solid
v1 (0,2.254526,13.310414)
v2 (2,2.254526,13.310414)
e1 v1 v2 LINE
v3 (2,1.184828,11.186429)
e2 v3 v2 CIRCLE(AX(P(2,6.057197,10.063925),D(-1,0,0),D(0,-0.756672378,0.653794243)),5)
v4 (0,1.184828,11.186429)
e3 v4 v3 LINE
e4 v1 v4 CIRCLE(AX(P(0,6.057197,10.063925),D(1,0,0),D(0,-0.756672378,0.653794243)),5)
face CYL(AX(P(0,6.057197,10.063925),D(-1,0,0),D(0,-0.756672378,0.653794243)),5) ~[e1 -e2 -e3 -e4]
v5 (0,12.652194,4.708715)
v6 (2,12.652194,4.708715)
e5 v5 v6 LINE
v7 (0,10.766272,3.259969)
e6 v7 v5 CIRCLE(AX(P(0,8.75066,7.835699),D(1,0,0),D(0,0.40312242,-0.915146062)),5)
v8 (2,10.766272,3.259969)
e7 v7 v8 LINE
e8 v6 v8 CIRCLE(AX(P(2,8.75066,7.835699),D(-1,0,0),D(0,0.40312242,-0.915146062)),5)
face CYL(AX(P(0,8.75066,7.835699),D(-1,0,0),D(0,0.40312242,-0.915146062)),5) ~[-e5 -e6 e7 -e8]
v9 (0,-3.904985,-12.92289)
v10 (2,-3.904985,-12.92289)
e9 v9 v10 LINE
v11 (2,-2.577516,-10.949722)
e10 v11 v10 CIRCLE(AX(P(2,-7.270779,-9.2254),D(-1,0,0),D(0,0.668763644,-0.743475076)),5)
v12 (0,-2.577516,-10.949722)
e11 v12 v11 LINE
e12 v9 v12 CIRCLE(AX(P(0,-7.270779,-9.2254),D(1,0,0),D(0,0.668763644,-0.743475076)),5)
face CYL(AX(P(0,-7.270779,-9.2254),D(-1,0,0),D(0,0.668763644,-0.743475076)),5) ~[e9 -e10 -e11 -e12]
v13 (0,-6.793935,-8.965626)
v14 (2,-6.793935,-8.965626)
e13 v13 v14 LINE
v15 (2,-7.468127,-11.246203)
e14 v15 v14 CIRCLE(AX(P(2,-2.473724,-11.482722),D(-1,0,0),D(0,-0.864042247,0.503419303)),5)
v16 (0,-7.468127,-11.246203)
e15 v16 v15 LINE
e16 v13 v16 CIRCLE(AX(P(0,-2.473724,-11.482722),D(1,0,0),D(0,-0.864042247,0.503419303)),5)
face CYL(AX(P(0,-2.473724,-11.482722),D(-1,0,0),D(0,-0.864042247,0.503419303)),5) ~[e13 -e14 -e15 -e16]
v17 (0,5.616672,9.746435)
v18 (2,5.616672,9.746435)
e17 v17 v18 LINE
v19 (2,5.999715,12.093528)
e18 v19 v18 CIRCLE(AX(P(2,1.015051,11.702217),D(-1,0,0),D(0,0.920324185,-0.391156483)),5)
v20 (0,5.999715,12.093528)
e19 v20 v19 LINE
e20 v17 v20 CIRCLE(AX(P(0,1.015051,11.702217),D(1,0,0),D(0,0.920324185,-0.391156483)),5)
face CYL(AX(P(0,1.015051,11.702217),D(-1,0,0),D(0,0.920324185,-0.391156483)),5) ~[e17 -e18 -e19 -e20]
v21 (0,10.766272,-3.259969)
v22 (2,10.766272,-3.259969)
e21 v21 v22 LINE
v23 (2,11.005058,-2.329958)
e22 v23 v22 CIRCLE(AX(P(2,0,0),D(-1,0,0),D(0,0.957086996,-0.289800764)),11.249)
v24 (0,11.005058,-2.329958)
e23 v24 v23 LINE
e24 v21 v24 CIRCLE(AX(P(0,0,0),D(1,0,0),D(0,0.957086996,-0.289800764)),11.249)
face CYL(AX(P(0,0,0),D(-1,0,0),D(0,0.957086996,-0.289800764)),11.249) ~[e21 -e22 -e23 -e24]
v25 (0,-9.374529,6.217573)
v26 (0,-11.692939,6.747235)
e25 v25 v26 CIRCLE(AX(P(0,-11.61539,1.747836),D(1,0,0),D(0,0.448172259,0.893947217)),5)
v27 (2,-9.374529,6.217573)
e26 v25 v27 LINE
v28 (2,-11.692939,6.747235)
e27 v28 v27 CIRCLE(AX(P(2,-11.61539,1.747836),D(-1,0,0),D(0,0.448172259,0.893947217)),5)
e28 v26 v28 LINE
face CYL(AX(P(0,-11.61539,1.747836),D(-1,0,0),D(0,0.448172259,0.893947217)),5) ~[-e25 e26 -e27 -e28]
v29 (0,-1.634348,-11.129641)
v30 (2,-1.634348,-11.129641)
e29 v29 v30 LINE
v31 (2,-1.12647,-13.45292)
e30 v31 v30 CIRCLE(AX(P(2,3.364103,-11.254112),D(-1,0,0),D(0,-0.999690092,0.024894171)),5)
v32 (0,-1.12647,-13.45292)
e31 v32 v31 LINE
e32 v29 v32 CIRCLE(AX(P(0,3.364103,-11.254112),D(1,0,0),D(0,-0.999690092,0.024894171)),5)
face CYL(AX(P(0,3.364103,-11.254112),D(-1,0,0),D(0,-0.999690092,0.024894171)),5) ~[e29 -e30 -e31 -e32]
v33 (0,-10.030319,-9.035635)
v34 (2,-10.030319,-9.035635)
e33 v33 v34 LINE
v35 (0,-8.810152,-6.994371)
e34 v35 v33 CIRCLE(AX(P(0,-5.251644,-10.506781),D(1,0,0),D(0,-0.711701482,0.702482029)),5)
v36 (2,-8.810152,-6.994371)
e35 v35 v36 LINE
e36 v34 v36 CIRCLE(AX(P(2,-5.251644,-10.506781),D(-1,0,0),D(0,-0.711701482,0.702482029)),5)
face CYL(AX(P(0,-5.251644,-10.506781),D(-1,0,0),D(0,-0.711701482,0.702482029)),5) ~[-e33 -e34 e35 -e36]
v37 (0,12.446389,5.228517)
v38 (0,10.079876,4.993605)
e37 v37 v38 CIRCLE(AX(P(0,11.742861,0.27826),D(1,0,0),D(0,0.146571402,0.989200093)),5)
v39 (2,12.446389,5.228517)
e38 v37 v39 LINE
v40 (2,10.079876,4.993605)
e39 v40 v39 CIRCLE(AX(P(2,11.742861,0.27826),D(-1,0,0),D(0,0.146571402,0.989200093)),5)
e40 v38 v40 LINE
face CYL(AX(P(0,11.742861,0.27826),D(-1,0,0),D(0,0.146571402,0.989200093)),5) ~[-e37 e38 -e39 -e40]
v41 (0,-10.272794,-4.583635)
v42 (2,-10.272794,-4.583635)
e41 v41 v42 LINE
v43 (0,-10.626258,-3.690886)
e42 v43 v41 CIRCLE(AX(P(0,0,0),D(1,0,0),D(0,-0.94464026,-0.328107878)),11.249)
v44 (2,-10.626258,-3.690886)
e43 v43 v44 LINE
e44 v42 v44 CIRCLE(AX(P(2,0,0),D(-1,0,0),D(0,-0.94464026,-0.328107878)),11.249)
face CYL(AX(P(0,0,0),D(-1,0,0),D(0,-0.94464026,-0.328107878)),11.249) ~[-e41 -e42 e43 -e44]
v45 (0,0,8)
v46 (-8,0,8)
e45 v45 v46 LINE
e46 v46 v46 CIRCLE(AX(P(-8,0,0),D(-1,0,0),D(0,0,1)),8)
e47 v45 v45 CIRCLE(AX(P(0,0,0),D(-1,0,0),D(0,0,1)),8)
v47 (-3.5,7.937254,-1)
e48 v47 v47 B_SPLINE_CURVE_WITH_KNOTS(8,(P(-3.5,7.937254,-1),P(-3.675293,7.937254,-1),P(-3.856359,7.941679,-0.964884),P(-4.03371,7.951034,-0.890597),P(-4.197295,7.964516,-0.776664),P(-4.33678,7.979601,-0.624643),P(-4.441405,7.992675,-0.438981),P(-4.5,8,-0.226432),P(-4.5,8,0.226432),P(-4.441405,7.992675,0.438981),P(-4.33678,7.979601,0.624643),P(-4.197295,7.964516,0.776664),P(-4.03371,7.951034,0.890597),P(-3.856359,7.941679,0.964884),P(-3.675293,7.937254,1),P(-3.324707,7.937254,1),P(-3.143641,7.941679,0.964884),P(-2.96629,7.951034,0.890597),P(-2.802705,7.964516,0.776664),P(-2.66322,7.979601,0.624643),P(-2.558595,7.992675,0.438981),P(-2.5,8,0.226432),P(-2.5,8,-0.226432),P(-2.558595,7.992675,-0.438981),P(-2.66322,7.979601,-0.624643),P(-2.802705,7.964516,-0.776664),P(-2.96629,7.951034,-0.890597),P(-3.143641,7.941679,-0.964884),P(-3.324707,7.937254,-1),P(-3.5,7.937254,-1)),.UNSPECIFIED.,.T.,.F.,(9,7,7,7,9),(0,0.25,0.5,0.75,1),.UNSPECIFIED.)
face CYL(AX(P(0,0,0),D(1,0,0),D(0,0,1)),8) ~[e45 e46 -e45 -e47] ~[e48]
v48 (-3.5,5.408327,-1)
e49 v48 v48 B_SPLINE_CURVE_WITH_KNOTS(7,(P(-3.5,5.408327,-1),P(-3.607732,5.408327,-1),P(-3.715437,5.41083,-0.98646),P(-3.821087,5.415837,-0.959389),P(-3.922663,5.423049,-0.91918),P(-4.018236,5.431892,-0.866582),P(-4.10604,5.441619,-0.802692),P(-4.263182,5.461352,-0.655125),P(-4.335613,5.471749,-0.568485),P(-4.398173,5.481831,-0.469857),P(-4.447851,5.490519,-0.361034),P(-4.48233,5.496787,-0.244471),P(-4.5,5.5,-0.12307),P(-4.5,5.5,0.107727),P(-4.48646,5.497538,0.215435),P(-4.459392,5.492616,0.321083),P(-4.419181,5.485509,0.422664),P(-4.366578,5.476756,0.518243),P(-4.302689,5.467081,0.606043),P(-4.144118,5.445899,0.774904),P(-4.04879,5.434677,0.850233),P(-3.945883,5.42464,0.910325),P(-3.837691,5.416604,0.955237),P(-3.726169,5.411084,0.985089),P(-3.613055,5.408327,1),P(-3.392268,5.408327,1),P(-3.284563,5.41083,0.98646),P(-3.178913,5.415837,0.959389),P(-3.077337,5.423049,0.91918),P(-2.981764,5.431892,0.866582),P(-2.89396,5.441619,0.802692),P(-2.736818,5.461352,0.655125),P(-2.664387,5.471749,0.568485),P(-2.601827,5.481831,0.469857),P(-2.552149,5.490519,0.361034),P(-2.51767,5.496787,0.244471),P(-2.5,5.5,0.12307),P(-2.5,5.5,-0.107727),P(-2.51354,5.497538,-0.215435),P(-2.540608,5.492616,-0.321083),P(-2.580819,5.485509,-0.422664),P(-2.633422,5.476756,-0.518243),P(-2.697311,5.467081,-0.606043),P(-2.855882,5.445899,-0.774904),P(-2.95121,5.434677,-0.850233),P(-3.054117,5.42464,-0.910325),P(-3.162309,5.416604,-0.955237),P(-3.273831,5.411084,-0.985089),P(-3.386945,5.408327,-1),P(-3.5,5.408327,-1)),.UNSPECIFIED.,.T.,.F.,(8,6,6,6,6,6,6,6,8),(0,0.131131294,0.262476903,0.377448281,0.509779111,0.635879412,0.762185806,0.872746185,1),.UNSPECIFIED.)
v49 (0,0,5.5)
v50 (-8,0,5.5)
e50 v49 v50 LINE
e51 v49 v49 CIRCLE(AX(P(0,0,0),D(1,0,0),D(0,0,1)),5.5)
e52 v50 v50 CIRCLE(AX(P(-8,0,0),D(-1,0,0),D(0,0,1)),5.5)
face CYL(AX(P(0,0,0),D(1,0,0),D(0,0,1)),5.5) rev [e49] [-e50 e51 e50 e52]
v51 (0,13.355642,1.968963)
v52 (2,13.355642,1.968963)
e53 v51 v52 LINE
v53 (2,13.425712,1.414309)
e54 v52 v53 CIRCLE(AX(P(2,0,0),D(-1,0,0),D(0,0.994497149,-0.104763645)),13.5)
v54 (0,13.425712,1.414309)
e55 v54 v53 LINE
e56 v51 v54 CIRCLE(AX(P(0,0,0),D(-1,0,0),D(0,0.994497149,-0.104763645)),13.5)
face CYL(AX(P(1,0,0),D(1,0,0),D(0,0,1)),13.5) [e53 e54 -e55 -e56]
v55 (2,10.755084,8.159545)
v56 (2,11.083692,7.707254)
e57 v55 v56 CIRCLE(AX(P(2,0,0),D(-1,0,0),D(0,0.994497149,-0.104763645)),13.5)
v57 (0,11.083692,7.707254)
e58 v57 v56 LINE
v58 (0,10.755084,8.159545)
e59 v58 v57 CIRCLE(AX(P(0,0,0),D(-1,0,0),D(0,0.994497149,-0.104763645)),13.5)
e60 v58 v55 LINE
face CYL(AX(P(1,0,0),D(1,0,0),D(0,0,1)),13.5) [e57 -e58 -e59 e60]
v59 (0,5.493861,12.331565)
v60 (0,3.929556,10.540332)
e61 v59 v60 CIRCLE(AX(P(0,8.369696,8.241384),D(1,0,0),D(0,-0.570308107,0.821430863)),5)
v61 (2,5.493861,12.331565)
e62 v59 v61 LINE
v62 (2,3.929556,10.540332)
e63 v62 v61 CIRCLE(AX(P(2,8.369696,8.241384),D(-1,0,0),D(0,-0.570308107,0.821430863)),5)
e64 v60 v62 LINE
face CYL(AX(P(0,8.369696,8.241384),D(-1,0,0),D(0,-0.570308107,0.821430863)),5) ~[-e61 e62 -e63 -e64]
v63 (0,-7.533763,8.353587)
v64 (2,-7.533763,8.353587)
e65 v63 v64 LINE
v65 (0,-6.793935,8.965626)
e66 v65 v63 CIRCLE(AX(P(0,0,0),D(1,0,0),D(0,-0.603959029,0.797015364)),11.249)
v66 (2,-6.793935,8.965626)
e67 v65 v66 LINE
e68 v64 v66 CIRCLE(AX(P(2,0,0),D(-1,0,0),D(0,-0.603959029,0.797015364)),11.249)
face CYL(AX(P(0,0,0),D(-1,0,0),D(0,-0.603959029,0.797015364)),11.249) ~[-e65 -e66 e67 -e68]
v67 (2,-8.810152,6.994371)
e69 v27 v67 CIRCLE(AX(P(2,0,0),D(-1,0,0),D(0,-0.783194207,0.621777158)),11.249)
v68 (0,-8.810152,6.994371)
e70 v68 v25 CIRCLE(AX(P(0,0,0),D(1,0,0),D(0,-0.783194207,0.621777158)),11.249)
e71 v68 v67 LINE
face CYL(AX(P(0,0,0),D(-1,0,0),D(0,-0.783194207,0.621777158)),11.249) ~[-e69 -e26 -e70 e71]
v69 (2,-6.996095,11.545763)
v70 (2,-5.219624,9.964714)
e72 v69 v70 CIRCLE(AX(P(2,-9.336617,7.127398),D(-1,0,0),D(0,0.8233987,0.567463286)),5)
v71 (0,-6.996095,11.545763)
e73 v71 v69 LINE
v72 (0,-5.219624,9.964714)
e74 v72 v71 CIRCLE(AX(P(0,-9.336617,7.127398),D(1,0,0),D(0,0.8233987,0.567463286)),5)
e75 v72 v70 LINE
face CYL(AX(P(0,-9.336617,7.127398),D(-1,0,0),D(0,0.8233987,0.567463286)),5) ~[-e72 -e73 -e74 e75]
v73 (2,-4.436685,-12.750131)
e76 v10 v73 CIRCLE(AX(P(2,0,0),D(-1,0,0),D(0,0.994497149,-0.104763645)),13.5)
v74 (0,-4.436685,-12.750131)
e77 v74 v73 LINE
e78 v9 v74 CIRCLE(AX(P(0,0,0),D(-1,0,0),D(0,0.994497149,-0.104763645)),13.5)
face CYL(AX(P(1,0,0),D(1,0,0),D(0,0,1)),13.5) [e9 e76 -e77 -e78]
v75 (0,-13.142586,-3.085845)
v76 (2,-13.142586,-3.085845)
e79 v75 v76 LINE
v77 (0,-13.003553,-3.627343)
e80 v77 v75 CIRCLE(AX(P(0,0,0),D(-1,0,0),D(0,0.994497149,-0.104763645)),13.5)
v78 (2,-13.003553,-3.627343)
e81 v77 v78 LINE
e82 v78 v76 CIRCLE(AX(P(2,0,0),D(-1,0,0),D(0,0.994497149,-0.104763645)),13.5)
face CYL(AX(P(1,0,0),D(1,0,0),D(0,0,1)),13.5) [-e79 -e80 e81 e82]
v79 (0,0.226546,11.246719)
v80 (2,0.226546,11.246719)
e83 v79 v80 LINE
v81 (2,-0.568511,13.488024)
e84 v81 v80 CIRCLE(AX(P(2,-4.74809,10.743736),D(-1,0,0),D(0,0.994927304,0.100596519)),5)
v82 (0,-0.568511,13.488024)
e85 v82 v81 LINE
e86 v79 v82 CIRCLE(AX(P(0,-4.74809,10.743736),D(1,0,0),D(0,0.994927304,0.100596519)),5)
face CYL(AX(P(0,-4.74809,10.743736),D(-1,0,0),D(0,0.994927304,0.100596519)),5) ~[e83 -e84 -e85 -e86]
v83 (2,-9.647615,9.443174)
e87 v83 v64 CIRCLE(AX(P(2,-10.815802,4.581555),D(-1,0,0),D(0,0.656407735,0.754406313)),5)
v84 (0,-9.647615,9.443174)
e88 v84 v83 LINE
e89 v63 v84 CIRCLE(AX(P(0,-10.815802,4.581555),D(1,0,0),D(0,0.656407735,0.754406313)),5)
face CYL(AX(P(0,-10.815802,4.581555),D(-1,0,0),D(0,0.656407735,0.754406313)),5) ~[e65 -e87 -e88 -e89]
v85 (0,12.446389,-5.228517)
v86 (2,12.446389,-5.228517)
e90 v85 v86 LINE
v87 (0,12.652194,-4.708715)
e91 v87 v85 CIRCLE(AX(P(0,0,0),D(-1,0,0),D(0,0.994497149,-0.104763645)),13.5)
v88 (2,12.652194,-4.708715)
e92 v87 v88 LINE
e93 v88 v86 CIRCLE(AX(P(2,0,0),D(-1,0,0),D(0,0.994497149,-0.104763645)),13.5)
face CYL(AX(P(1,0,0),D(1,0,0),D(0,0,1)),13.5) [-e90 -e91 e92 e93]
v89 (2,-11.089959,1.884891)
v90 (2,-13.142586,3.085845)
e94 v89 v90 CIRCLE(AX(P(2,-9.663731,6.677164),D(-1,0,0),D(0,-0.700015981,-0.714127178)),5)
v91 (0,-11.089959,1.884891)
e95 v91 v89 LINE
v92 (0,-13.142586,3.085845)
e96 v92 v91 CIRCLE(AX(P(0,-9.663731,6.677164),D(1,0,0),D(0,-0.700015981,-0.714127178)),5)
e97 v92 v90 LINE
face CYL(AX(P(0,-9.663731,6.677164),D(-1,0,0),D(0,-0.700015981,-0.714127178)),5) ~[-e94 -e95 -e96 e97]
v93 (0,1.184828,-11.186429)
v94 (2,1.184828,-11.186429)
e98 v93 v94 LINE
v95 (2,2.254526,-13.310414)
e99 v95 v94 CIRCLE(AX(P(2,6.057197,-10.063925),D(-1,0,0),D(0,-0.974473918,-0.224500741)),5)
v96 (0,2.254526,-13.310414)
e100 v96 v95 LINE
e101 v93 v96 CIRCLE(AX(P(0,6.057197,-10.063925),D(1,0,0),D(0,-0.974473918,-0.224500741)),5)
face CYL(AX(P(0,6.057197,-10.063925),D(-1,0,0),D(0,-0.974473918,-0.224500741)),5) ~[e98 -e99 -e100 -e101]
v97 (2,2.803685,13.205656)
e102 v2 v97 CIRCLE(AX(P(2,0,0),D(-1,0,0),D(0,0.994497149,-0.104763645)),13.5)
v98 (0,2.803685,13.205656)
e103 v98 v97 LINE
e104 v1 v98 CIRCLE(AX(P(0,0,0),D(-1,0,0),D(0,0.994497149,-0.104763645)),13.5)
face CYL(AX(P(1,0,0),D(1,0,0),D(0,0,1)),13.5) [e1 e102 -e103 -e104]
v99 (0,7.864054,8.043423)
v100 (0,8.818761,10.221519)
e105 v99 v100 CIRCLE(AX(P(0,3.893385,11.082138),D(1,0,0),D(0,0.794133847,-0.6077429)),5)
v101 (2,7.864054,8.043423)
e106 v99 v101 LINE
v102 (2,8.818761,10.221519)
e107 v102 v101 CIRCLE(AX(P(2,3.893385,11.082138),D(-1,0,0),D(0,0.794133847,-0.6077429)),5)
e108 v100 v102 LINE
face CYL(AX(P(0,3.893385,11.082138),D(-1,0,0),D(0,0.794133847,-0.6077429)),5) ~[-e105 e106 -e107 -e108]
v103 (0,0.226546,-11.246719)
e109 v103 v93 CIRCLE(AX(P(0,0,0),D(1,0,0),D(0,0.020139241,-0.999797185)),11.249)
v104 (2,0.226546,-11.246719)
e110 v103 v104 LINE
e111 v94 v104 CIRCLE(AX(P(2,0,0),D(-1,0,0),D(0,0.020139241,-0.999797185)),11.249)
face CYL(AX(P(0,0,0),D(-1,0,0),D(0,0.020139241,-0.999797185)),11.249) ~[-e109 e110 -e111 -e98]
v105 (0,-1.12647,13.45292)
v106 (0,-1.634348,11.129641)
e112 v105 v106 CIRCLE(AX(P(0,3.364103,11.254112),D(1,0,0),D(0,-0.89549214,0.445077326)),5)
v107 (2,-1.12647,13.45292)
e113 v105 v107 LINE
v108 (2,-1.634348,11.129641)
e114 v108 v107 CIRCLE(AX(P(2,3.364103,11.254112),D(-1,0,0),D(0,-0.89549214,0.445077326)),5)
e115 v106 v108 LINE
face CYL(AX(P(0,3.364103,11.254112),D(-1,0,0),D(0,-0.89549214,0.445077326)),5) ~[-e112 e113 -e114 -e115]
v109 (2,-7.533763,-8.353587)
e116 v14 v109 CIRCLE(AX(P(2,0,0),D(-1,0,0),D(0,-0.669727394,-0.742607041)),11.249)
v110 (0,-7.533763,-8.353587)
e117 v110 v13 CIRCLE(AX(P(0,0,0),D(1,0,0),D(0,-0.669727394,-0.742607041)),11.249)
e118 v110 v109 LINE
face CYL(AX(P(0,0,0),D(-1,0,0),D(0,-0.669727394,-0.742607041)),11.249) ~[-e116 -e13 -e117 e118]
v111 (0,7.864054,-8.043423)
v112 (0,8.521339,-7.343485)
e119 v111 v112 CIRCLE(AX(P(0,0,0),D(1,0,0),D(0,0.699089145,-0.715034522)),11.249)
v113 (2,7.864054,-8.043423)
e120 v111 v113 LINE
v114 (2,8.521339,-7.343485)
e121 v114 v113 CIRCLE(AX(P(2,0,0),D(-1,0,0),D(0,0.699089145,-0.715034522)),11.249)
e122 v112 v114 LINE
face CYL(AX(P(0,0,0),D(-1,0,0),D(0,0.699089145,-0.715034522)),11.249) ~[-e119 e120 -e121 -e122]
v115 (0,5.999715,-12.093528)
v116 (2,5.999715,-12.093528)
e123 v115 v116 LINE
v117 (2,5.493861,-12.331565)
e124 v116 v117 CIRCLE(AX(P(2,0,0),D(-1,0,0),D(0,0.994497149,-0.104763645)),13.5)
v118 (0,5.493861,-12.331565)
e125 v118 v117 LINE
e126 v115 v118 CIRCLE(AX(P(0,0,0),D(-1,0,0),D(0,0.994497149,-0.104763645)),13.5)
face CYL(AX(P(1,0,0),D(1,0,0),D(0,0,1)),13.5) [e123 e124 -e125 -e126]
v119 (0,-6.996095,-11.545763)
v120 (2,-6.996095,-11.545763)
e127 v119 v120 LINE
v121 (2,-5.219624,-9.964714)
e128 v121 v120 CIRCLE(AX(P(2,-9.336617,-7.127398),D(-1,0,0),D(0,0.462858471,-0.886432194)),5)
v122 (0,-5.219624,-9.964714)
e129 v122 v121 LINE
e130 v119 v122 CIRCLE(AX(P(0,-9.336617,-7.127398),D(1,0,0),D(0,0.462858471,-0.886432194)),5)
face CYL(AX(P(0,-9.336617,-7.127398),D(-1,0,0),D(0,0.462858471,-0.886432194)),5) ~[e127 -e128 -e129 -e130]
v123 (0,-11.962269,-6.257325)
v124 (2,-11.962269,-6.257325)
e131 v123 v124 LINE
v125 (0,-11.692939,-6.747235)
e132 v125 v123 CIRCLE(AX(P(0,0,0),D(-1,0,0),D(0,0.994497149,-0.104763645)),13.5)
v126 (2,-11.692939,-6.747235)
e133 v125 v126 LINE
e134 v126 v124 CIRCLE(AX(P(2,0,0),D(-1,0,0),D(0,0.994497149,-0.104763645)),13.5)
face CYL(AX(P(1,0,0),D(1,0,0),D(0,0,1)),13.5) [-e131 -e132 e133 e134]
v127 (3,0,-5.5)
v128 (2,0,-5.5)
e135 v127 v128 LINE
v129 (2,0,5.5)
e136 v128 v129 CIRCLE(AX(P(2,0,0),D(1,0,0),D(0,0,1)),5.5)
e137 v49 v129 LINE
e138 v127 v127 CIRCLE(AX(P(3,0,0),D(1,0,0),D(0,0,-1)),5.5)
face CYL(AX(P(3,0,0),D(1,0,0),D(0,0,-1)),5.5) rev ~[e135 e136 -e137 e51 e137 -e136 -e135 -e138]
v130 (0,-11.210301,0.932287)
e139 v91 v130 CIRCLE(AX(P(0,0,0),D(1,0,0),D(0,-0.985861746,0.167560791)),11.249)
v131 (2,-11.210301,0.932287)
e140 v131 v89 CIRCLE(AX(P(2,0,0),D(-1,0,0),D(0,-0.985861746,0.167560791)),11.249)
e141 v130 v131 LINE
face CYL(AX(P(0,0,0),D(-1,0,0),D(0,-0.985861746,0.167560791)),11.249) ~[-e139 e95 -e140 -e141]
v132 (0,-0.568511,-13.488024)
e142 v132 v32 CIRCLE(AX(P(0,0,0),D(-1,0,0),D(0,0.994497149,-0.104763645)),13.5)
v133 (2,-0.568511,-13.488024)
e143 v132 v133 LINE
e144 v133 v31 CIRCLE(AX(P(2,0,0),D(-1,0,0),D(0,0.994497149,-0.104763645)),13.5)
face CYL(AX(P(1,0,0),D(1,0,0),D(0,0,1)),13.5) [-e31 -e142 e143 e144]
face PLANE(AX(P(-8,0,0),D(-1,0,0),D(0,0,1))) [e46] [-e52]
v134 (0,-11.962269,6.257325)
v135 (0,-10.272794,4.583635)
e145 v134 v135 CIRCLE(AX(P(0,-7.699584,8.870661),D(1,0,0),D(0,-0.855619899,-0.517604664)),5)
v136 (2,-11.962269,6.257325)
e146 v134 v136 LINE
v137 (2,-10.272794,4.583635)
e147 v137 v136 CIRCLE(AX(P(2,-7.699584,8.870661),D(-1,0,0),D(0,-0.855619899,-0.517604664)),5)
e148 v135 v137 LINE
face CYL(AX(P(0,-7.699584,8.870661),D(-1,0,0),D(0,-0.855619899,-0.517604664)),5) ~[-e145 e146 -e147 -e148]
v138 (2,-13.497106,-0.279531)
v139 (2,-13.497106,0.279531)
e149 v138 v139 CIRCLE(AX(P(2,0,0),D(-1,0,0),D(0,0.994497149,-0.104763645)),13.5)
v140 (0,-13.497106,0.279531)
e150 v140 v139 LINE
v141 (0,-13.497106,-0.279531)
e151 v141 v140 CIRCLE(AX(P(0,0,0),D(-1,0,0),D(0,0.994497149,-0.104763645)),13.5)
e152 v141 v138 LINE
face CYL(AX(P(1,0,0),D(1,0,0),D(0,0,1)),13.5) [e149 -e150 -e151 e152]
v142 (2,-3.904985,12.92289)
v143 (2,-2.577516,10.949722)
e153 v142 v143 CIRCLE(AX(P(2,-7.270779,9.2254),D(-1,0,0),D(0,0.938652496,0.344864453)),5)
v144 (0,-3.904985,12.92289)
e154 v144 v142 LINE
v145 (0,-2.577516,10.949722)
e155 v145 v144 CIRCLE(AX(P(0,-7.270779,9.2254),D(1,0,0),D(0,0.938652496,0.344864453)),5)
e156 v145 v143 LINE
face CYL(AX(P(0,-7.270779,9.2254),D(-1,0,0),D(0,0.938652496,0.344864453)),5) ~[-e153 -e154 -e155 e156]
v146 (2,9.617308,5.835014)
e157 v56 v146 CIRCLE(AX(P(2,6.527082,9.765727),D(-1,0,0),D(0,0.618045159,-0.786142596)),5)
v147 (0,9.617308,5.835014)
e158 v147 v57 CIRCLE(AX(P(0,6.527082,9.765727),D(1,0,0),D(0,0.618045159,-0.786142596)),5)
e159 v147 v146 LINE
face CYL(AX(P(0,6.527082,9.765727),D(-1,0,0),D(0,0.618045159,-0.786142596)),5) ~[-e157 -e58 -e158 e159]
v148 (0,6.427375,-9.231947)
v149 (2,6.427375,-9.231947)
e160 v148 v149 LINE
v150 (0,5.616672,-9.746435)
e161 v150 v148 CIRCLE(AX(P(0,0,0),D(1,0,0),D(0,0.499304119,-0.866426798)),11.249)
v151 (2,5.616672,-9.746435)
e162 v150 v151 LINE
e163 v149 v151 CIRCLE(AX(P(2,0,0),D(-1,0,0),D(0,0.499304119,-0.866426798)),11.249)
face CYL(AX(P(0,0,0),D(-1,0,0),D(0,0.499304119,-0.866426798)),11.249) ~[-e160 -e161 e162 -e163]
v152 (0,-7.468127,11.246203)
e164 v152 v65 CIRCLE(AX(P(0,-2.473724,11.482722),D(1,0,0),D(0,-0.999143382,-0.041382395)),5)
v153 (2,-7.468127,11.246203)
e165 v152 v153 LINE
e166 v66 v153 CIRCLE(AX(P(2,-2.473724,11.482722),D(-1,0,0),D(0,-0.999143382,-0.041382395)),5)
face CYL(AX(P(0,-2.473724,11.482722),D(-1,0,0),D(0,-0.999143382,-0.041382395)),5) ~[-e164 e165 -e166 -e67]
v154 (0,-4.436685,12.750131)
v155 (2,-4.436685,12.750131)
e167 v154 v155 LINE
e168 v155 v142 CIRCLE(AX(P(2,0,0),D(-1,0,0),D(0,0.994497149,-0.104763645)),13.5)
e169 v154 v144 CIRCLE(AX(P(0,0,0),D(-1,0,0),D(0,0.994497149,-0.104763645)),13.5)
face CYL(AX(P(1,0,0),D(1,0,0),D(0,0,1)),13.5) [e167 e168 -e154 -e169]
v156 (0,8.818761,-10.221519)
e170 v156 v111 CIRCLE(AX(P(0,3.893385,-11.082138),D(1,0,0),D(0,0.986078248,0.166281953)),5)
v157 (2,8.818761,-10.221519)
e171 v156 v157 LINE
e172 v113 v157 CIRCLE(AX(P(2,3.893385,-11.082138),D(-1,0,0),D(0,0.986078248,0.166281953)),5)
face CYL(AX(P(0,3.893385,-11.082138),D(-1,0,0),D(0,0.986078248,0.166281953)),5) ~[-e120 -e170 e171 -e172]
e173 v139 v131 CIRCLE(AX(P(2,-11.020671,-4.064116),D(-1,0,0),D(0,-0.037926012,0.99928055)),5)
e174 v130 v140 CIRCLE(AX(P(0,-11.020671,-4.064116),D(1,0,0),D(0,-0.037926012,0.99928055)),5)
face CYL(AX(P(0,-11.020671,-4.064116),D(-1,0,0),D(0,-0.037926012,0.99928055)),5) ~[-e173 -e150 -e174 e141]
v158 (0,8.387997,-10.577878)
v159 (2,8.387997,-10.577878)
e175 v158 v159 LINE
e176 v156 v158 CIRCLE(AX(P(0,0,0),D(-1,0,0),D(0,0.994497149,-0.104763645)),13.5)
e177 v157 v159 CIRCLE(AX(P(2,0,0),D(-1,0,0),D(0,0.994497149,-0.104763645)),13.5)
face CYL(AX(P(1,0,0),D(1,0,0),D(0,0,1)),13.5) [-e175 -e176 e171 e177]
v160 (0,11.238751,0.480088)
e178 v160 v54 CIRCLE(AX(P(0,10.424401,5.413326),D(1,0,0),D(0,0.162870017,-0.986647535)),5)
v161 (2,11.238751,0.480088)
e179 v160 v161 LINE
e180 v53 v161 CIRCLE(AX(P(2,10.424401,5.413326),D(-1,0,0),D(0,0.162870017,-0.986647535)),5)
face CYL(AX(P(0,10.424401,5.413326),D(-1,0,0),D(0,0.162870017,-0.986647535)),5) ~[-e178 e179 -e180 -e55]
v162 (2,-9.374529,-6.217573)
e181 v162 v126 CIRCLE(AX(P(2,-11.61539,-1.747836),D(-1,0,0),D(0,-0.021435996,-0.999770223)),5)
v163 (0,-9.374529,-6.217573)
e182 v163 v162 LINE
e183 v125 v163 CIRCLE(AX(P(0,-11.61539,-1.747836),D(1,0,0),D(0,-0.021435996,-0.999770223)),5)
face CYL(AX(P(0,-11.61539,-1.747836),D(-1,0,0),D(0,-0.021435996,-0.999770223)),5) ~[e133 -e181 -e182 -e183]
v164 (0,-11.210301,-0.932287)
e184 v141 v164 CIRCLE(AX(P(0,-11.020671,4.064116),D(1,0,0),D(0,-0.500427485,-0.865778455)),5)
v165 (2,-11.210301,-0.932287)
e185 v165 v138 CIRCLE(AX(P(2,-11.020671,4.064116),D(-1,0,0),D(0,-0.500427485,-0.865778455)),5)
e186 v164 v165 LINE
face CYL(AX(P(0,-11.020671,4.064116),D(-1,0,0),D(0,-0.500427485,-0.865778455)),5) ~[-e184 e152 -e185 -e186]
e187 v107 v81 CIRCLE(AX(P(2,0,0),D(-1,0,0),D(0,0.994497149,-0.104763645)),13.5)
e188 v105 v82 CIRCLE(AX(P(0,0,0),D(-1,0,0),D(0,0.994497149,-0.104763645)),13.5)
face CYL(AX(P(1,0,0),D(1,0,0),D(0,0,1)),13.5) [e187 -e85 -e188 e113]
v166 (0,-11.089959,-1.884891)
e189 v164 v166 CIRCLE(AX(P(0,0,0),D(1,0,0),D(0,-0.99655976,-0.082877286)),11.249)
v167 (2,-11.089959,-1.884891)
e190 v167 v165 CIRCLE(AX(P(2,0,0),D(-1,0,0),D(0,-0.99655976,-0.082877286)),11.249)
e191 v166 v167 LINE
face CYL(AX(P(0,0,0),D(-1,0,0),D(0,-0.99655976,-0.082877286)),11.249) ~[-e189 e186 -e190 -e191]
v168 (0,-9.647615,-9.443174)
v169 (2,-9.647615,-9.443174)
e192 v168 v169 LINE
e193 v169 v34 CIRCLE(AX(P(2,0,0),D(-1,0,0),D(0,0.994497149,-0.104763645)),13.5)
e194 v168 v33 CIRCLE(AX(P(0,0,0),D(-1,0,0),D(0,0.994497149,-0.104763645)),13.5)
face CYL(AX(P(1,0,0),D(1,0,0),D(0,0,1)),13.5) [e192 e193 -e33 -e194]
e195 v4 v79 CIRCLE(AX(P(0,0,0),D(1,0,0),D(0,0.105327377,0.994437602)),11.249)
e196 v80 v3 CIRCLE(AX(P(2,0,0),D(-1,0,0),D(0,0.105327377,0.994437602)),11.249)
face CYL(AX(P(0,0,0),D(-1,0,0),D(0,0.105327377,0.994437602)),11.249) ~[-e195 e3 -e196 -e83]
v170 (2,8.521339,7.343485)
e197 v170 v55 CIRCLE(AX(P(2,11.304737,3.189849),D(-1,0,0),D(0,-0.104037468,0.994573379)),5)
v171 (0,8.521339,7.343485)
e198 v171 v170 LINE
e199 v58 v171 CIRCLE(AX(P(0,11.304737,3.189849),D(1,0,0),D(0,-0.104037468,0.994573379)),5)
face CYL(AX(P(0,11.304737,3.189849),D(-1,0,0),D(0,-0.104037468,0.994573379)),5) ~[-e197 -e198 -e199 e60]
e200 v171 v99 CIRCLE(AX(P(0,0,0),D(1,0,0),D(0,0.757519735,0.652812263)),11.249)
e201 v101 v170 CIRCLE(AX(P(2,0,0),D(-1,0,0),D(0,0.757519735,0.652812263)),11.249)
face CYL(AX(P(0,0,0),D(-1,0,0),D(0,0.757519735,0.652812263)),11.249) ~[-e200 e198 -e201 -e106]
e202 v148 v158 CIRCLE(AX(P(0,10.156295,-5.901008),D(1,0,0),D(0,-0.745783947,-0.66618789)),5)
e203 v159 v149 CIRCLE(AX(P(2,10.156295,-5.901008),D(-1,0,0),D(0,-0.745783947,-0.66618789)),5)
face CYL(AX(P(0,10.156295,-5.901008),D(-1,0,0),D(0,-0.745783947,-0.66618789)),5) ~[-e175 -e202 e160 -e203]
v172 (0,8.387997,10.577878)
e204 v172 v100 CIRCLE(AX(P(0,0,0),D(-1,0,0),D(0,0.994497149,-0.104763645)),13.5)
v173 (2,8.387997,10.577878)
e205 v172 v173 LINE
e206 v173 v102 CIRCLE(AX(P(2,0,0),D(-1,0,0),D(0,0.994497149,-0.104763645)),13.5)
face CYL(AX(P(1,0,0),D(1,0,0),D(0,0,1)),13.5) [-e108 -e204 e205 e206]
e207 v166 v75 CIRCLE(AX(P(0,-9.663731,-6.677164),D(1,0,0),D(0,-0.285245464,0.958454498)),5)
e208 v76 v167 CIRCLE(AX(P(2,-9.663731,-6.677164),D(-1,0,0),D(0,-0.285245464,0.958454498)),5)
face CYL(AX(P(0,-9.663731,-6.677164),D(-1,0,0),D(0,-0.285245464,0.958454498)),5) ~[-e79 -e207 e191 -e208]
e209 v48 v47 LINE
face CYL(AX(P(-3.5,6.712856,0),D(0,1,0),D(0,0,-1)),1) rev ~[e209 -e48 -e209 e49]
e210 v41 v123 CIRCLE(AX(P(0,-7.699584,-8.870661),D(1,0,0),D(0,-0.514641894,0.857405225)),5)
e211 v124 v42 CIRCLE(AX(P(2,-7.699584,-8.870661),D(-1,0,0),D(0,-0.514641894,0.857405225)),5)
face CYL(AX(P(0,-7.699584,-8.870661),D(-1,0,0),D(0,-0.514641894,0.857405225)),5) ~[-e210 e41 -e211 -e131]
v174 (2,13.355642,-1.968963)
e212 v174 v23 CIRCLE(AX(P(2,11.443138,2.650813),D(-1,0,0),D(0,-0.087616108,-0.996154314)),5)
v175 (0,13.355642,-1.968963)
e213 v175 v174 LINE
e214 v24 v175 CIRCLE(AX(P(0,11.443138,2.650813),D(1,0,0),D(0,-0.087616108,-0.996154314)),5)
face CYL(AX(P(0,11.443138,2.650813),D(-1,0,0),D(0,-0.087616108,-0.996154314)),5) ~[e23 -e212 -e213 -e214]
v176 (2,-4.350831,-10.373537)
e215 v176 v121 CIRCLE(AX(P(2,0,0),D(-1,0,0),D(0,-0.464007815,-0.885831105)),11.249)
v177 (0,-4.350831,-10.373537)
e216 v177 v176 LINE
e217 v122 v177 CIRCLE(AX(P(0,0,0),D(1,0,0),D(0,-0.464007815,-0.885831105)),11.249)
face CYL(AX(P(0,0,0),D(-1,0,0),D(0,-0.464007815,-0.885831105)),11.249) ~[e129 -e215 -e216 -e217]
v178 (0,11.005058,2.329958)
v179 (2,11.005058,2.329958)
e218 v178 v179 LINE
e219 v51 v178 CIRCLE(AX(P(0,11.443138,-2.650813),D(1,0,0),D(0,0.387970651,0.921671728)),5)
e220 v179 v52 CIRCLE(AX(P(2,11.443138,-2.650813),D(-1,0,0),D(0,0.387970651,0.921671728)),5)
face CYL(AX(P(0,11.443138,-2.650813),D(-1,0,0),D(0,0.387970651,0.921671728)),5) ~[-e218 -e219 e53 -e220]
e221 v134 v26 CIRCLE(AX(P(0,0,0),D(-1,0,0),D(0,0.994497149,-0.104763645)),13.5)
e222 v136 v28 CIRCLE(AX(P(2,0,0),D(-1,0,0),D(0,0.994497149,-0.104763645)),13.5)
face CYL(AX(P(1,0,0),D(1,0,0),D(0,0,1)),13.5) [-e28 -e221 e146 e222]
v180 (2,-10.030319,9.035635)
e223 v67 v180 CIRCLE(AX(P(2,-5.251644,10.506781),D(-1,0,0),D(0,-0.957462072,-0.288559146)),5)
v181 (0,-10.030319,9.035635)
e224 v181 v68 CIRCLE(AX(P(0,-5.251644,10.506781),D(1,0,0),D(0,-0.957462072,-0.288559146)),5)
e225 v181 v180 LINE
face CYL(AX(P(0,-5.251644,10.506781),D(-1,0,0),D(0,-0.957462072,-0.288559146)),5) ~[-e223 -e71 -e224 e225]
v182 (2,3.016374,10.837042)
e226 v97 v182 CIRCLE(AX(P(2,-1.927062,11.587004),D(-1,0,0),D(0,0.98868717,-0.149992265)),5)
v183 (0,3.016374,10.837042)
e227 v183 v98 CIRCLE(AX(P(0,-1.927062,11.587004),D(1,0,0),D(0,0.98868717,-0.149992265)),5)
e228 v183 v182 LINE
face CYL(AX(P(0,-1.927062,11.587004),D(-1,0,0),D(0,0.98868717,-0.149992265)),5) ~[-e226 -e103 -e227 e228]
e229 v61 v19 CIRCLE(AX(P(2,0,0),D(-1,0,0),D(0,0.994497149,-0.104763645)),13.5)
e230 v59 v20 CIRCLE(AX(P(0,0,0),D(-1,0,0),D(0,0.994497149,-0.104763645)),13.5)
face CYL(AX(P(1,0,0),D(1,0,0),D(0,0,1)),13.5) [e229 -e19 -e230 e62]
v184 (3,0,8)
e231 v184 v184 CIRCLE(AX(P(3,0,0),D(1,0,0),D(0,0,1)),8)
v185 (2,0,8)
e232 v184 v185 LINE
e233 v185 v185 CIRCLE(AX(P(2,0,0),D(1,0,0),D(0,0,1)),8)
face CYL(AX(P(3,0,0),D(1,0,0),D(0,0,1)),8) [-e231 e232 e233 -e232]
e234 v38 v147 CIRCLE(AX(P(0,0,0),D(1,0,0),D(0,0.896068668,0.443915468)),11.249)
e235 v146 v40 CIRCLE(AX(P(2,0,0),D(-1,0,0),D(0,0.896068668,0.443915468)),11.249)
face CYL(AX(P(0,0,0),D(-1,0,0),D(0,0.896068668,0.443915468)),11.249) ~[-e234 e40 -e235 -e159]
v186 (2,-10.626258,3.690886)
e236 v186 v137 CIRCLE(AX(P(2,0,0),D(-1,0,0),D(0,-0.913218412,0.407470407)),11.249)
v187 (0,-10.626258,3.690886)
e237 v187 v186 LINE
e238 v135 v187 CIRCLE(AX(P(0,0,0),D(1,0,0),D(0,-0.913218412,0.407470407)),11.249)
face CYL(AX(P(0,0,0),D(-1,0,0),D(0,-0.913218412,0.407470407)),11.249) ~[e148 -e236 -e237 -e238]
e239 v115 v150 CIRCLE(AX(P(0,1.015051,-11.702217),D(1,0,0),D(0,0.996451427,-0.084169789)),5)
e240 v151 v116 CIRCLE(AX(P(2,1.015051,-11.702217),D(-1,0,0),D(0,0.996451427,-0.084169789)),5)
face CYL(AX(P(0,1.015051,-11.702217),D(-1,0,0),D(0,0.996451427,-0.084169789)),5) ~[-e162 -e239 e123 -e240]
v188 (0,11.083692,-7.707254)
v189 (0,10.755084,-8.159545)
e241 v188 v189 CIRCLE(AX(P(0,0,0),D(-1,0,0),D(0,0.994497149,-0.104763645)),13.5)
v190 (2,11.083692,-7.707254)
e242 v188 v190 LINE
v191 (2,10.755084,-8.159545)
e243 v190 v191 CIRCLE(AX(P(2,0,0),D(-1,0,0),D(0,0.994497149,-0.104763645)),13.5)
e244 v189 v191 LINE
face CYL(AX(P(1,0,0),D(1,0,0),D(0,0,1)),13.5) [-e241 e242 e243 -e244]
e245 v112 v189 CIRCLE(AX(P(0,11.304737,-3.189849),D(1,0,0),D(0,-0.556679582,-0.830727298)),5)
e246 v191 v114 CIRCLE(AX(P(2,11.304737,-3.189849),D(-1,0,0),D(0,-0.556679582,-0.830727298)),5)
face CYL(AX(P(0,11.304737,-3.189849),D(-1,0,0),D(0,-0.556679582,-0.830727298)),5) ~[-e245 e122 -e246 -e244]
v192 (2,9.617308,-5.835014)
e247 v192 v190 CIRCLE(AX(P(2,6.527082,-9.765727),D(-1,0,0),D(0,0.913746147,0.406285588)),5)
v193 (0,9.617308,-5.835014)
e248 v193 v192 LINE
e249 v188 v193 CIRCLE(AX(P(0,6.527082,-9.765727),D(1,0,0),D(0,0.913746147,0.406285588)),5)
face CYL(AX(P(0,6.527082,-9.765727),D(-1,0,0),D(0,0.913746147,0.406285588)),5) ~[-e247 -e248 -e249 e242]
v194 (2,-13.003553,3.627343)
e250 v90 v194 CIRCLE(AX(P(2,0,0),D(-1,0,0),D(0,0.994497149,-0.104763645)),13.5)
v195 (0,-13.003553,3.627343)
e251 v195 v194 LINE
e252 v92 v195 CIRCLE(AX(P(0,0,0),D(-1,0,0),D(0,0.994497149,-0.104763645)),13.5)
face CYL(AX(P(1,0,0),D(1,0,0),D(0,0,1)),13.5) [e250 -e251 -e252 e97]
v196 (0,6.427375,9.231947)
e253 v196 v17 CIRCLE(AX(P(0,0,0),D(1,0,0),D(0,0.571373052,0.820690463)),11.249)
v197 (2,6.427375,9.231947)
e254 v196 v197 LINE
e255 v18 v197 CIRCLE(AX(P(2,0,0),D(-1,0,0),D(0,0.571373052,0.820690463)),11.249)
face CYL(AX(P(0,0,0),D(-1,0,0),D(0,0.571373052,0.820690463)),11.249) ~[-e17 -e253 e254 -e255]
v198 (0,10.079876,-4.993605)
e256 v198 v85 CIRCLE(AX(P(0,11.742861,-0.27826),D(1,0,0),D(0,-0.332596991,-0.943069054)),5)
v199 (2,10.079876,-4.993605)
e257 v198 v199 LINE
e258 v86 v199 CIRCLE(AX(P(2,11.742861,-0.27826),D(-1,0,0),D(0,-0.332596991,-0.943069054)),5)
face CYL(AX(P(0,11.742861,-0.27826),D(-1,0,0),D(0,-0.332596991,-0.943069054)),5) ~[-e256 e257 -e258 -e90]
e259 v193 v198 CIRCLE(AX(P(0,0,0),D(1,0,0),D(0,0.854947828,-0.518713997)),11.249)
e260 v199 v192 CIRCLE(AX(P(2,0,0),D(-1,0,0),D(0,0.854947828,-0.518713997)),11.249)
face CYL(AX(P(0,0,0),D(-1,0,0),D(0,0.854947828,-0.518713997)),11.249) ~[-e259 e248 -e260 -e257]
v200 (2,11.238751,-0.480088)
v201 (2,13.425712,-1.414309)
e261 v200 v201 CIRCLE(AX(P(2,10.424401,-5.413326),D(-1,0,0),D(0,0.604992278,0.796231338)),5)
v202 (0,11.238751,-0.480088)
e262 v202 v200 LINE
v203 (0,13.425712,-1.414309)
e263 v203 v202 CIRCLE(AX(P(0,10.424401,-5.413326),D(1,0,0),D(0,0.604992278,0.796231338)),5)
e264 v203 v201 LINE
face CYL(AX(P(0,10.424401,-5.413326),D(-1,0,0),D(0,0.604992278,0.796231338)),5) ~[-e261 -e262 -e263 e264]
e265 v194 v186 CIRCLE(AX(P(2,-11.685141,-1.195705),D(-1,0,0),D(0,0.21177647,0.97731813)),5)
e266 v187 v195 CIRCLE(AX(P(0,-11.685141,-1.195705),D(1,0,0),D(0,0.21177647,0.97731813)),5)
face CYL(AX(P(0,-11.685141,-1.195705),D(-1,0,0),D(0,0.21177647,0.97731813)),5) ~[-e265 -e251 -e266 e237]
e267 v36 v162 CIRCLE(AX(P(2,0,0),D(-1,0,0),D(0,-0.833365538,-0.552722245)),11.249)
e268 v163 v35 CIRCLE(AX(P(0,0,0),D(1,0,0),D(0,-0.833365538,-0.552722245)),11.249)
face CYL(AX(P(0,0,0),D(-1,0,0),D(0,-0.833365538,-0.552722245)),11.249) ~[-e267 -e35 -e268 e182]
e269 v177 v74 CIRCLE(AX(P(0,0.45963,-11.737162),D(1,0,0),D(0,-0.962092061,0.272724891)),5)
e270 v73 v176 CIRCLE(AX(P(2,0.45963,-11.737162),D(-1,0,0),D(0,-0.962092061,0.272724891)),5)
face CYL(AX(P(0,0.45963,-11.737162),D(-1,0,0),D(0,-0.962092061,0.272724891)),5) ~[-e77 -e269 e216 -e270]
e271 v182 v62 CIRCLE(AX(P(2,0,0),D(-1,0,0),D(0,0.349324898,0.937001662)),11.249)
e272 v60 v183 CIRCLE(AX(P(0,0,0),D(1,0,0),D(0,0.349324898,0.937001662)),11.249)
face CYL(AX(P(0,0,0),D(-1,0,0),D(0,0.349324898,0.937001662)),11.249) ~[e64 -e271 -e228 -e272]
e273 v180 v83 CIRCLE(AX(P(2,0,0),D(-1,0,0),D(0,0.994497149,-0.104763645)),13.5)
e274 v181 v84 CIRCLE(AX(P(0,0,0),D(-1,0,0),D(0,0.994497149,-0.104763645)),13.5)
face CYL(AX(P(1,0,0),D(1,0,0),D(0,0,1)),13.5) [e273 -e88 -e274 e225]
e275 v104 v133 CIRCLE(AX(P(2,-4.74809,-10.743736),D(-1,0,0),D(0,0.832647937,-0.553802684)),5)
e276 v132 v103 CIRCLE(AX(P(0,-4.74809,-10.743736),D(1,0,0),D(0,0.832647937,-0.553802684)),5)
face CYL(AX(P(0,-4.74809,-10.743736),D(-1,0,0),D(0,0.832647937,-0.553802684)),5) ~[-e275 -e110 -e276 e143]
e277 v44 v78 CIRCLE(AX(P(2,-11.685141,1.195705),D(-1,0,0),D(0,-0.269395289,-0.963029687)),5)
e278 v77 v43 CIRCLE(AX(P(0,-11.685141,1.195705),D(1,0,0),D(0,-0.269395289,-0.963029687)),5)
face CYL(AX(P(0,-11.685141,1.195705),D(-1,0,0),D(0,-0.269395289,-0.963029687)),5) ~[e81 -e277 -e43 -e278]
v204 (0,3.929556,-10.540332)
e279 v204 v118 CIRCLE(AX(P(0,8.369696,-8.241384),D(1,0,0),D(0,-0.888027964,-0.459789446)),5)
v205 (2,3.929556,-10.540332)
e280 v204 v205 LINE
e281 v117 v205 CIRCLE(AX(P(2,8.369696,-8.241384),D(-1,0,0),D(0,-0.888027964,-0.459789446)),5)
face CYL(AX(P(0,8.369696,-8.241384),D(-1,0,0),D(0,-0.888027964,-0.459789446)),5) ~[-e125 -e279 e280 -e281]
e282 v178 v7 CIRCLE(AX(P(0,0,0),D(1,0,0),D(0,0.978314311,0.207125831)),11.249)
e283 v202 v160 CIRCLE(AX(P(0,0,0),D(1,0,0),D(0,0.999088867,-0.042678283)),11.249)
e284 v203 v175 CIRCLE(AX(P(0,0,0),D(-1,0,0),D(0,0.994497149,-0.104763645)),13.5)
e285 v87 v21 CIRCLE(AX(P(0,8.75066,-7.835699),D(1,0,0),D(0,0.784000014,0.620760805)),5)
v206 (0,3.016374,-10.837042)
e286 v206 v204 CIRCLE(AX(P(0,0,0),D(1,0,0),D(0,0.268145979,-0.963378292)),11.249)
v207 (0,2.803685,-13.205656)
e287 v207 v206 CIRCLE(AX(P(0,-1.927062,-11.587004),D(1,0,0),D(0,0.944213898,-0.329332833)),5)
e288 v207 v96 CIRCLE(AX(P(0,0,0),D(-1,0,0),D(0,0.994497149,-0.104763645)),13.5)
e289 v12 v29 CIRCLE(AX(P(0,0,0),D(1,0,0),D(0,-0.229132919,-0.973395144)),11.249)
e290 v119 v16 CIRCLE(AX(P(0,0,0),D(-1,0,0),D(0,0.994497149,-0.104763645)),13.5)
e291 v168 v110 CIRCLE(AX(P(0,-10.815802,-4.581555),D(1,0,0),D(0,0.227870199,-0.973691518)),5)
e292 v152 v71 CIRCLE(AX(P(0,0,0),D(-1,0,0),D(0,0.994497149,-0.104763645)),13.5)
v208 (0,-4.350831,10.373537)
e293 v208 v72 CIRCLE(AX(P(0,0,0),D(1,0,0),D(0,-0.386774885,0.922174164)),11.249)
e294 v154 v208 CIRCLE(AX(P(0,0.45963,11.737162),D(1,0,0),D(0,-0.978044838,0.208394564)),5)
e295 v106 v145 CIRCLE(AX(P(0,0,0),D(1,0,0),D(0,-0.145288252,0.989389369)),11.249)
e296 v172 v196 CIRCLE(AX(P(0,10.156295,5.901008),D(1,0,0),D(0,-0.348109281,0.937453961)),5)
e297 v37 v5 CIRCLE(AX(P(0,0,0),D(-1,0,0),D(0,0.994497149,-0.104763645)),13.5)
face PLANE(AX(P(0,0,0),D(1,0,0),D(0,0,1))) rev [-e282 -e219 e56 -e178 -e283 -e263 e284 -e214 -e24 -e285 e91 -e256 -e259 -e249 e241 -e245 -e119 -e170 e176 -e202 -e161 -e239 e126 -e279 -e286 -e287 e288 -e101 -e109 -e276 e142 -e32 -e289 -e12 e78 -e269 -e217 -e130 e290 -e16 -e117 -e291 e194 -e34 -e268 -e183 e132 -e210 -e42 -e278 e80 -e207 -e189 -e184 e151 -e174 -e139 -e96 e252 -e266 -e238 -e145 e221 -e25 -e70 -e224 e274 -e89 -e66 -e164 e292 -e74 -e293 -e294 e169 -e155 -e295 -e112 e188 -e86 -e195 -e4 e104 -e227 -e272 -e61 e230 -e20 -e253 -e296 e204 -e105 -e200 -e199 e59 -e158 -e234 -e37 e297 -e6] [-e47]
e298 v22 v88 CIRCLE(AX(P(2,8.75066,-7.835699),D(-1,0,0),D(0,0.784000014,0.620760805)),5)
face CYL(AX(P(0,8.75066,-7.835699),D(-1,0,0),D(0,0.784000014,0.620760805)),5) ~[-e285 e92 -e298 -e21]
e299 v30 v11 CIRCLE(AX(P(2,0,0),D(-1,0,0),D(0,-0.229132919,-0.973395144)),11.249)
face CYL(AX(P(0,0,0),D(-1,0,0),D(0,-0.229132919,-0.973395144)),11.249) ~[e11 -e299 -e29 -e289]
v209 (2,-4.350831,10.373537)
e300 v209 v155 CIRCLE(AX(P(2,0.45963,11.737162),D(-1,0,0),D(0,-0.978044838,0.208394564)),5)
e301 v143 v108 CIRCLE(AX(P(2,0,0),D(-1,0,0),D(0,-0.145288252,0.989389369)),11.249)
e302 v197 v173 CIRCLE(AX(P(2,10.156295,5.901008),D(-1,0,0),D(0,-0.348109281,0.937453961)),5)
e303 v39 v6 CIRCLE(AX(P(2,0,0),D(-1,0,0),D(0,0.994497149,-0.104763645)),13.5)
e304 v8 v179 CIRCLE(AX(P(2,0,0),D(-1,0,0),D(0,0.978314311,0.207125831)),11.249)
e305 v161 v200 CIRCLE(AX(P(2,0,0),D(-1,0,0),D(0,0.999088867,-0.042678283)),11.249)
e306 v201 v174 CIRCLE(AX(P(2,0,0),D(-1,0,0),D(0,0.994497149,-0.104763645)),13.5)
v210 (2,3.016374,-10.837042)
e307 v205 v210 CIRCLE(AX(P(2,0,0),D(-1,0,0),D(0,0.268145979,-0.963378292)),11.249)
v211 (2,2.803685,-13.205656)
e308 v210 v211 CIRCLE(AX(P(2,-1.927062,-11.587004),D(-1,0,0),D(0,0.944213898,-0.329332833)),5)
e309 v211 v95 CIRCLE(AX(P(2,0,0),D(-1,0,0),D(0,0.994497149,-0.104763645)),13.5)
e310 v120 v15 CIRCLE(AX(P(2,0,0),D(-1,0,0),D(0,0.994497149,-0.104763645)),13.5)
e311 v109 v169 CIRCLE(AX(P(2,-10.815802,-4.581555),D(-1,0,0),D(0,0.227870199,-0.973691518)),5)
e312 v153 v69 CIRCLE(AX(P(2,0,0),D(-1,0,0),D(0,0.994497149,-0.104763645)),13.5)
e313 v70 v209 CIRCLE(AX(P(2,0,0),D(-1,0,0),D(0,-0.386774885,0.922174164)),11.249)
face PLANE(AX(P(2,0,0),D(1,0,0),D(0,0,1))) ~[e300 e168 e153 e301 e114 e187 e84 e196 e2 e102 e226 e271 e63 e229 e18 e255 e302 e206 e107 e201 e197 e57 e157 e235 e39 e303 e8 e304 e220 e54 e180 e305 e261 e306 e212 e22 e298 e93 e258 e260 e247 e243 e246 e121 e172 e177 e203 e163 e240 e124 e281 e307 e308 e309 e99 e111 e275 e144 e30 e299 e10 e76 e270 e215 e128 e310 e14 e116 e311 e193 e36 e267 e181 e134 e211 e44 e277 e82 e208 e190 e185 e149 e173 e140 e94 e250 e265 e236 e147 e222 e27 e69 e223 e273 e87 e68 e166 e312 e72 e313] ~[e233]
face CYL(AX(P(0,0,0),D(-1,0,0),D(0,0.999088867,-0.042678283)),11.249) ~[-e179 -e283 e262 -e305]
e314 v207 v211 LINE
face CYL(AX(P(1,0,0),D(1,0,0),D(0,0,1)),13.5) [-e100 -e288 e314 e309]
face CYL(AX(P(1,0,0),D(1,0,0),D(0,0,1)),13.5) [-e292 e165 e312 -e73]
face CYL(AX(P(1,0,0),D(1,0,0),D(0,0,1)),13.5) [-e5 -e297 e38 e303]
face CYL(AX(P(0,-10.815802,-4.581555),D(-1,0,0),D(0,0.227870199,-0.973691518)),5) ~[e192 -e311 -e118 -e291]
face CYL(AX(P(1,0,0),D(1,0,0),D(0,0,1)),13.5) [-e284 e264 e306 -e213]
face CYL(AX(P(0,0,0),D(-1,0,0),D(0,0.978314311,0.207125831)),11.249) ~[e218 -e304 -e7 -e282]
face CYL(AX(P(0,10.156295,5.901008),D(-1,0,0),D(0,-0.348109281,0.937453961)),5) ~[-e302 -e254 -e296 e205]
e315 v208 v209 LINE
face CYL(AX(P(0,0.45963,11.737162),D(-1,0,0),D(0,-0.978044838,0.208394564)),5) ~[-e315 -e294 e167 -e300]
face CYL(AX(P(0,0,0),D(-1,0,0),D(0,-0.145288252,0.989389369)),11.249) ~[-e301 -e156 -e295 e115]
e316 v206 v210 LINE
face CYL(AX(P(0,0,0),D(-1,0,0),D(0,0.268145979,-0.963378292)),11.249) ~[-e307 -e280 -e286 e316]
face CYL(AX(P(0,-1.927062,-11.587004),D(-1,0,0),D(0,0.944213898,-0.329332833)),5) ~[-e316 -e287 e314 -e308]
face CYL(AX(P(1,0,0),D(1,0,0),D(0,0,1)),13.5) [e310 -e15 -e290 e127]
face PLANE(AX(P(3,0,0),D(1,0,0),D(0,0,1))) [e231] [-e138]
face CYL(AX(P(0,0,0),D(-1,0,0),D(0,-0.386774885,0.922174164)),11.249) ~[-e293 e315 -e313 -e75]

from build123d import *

# Parameters (mm, degrees)
BASPROSKE_W        = 2
BASPROSKE_H        = 13.5
TOOTHCUT_DEPTH     = 20.19635382
TEETHCUTS_COUNT    = 25
TEETHCUTS_ANGLE    = 345.6
BORSKE_R           = 5.5
BORE_DEPTH         = 50.0000508
BOSS_EXTRU_1_START = 1
ESQUISSE1_R        = 8
ESQUISSE1_R_2      = 5.5
BOSS_EXTRU_1_DEPTH = 1
ESQUISSE2_R        = 8
ESQUISSE2_R_2      = 5.5
BOSS_EXTRU_2_DEPTH = 8
ESQUISSE4_W        = 1
ESQUISSE4_H        = 13.425711508


with BuildPart() as part:
    # BasProSke → Base-Revolve (revolve)
    with BuildSketch(Plane(origin=(0, 0, 0), x_dir=(1, 0, 0), z_dir=(0, 1, 0)), mode=Mode.PRIVATE) as base_revolve_sk:
        with Locations((1, 6.75)):
            Rectangle(BASPROSKE_W, BASPROSKE_H)
    revolve(base_revolve_sk.sketch.rotate(Axis((-10, 0, 0), (1, 0, 0)), 180), axis=Axis((-10, 0, 0), (1, 0, 0)))

    # TooCutSke → ToothCut (cut, through all)
    with BuildSketch(Plane(origin=(0, 0, 0), x_dir=(0, 0, -1), z_dir=(1, 0, 0))):
        with BuildLine():
            ThreePointArc((0.480087995, 11.238750665), (0, 11.249), (-0.480087995, 11.238750665))
            ThreePointArc((-0.480087995, 11.238750665), (-0.821124963, 12.40220054), (-1.432168974, 13.449361962))
            ThreePointArc((-1.432168974, 13.449361962), (0, 13.5254), (1.432168974, 13.449361962))
            ThreePointArc((1.432168974, 13.449361962), (0.821124963, 12.40220054), (0.480087995, 11.238750665))
        make_face()
    toothcut = extrude(amount=TOOTHCUT_DEPTH, mode=Mode.SUBTRACT)

    # TeethCuts: ToothCut ×25 about axis
    teethcuts_axis = Axis((-10, 0, 0), (1, 0, 0))
    for i in range(1, TEETHCUTS_COUNT):
        add(toothcut.rotate(teethcuts_axis, i * TEETHCUTS_ANGLE / (TEETHCUTS_COUNT - 1)), mode=Mode.SUBTRACT)

    # BorSke → Bore (cut, symmetric)
    with BuildSketch(Plane(origin=(0, 0, 0), x_dir=(0, 0, -1), z_dir=(1, 0, 0))):
        with Locations(Location((0, 0, 0), (0, 0, 180))):
            Circle(BORSKE_R)
    extrude(amount=BORE_DEPTH, both=True, mode=Mode.SUBTRACT)

    # Esquisse1 → Boss.-Extru.1 (add)
    with BuildSketch(Plane(origin=(2, 0, 0), x_dir=(0, 0, -1), z_dir=(1, 0, 0)).offset(BOSS_EXTRU_1_START)):
        with Locations(Location((0, 0, 0), (0, 0, 180))):
            Circle(ESQUISSE1_R)
        Circle(ESQUISSE1_R_2, mode=Mode.SUBTRACT)
    extrude(amount=-BOSS_EXTRU_1_DEPTH)

    # Esquisse2 → Boss.-Extru.2 (add)
    with BuildSketch(Plane.ZY):
        Circle(ESQUISSE2_R)
        Circle(ESQUISSE2_R_2, mode=Mode.SUBTRACT)
    extrude(amount=BOSS_EXTRU_2_DEPTH)

    # Esquisse4 → Diamètre du perçage Ø2.0 (2)1 (revolve, cut)
    with BuildSketch(Plane(origin=(-3.5, 0, 0), x_dir=(0, 0, -1), z_dir=(1, 0, 0))):
        with Locations((0.5, 6.712855754)):
            Rectangle(ESQUISSE4_W, ESQUISSE4_H)
    revolve(axis=Axis((-3.5, -6.35, 0), (0, 1, 0)), mode=Mode.SUBTRACT)


solid = part.part
